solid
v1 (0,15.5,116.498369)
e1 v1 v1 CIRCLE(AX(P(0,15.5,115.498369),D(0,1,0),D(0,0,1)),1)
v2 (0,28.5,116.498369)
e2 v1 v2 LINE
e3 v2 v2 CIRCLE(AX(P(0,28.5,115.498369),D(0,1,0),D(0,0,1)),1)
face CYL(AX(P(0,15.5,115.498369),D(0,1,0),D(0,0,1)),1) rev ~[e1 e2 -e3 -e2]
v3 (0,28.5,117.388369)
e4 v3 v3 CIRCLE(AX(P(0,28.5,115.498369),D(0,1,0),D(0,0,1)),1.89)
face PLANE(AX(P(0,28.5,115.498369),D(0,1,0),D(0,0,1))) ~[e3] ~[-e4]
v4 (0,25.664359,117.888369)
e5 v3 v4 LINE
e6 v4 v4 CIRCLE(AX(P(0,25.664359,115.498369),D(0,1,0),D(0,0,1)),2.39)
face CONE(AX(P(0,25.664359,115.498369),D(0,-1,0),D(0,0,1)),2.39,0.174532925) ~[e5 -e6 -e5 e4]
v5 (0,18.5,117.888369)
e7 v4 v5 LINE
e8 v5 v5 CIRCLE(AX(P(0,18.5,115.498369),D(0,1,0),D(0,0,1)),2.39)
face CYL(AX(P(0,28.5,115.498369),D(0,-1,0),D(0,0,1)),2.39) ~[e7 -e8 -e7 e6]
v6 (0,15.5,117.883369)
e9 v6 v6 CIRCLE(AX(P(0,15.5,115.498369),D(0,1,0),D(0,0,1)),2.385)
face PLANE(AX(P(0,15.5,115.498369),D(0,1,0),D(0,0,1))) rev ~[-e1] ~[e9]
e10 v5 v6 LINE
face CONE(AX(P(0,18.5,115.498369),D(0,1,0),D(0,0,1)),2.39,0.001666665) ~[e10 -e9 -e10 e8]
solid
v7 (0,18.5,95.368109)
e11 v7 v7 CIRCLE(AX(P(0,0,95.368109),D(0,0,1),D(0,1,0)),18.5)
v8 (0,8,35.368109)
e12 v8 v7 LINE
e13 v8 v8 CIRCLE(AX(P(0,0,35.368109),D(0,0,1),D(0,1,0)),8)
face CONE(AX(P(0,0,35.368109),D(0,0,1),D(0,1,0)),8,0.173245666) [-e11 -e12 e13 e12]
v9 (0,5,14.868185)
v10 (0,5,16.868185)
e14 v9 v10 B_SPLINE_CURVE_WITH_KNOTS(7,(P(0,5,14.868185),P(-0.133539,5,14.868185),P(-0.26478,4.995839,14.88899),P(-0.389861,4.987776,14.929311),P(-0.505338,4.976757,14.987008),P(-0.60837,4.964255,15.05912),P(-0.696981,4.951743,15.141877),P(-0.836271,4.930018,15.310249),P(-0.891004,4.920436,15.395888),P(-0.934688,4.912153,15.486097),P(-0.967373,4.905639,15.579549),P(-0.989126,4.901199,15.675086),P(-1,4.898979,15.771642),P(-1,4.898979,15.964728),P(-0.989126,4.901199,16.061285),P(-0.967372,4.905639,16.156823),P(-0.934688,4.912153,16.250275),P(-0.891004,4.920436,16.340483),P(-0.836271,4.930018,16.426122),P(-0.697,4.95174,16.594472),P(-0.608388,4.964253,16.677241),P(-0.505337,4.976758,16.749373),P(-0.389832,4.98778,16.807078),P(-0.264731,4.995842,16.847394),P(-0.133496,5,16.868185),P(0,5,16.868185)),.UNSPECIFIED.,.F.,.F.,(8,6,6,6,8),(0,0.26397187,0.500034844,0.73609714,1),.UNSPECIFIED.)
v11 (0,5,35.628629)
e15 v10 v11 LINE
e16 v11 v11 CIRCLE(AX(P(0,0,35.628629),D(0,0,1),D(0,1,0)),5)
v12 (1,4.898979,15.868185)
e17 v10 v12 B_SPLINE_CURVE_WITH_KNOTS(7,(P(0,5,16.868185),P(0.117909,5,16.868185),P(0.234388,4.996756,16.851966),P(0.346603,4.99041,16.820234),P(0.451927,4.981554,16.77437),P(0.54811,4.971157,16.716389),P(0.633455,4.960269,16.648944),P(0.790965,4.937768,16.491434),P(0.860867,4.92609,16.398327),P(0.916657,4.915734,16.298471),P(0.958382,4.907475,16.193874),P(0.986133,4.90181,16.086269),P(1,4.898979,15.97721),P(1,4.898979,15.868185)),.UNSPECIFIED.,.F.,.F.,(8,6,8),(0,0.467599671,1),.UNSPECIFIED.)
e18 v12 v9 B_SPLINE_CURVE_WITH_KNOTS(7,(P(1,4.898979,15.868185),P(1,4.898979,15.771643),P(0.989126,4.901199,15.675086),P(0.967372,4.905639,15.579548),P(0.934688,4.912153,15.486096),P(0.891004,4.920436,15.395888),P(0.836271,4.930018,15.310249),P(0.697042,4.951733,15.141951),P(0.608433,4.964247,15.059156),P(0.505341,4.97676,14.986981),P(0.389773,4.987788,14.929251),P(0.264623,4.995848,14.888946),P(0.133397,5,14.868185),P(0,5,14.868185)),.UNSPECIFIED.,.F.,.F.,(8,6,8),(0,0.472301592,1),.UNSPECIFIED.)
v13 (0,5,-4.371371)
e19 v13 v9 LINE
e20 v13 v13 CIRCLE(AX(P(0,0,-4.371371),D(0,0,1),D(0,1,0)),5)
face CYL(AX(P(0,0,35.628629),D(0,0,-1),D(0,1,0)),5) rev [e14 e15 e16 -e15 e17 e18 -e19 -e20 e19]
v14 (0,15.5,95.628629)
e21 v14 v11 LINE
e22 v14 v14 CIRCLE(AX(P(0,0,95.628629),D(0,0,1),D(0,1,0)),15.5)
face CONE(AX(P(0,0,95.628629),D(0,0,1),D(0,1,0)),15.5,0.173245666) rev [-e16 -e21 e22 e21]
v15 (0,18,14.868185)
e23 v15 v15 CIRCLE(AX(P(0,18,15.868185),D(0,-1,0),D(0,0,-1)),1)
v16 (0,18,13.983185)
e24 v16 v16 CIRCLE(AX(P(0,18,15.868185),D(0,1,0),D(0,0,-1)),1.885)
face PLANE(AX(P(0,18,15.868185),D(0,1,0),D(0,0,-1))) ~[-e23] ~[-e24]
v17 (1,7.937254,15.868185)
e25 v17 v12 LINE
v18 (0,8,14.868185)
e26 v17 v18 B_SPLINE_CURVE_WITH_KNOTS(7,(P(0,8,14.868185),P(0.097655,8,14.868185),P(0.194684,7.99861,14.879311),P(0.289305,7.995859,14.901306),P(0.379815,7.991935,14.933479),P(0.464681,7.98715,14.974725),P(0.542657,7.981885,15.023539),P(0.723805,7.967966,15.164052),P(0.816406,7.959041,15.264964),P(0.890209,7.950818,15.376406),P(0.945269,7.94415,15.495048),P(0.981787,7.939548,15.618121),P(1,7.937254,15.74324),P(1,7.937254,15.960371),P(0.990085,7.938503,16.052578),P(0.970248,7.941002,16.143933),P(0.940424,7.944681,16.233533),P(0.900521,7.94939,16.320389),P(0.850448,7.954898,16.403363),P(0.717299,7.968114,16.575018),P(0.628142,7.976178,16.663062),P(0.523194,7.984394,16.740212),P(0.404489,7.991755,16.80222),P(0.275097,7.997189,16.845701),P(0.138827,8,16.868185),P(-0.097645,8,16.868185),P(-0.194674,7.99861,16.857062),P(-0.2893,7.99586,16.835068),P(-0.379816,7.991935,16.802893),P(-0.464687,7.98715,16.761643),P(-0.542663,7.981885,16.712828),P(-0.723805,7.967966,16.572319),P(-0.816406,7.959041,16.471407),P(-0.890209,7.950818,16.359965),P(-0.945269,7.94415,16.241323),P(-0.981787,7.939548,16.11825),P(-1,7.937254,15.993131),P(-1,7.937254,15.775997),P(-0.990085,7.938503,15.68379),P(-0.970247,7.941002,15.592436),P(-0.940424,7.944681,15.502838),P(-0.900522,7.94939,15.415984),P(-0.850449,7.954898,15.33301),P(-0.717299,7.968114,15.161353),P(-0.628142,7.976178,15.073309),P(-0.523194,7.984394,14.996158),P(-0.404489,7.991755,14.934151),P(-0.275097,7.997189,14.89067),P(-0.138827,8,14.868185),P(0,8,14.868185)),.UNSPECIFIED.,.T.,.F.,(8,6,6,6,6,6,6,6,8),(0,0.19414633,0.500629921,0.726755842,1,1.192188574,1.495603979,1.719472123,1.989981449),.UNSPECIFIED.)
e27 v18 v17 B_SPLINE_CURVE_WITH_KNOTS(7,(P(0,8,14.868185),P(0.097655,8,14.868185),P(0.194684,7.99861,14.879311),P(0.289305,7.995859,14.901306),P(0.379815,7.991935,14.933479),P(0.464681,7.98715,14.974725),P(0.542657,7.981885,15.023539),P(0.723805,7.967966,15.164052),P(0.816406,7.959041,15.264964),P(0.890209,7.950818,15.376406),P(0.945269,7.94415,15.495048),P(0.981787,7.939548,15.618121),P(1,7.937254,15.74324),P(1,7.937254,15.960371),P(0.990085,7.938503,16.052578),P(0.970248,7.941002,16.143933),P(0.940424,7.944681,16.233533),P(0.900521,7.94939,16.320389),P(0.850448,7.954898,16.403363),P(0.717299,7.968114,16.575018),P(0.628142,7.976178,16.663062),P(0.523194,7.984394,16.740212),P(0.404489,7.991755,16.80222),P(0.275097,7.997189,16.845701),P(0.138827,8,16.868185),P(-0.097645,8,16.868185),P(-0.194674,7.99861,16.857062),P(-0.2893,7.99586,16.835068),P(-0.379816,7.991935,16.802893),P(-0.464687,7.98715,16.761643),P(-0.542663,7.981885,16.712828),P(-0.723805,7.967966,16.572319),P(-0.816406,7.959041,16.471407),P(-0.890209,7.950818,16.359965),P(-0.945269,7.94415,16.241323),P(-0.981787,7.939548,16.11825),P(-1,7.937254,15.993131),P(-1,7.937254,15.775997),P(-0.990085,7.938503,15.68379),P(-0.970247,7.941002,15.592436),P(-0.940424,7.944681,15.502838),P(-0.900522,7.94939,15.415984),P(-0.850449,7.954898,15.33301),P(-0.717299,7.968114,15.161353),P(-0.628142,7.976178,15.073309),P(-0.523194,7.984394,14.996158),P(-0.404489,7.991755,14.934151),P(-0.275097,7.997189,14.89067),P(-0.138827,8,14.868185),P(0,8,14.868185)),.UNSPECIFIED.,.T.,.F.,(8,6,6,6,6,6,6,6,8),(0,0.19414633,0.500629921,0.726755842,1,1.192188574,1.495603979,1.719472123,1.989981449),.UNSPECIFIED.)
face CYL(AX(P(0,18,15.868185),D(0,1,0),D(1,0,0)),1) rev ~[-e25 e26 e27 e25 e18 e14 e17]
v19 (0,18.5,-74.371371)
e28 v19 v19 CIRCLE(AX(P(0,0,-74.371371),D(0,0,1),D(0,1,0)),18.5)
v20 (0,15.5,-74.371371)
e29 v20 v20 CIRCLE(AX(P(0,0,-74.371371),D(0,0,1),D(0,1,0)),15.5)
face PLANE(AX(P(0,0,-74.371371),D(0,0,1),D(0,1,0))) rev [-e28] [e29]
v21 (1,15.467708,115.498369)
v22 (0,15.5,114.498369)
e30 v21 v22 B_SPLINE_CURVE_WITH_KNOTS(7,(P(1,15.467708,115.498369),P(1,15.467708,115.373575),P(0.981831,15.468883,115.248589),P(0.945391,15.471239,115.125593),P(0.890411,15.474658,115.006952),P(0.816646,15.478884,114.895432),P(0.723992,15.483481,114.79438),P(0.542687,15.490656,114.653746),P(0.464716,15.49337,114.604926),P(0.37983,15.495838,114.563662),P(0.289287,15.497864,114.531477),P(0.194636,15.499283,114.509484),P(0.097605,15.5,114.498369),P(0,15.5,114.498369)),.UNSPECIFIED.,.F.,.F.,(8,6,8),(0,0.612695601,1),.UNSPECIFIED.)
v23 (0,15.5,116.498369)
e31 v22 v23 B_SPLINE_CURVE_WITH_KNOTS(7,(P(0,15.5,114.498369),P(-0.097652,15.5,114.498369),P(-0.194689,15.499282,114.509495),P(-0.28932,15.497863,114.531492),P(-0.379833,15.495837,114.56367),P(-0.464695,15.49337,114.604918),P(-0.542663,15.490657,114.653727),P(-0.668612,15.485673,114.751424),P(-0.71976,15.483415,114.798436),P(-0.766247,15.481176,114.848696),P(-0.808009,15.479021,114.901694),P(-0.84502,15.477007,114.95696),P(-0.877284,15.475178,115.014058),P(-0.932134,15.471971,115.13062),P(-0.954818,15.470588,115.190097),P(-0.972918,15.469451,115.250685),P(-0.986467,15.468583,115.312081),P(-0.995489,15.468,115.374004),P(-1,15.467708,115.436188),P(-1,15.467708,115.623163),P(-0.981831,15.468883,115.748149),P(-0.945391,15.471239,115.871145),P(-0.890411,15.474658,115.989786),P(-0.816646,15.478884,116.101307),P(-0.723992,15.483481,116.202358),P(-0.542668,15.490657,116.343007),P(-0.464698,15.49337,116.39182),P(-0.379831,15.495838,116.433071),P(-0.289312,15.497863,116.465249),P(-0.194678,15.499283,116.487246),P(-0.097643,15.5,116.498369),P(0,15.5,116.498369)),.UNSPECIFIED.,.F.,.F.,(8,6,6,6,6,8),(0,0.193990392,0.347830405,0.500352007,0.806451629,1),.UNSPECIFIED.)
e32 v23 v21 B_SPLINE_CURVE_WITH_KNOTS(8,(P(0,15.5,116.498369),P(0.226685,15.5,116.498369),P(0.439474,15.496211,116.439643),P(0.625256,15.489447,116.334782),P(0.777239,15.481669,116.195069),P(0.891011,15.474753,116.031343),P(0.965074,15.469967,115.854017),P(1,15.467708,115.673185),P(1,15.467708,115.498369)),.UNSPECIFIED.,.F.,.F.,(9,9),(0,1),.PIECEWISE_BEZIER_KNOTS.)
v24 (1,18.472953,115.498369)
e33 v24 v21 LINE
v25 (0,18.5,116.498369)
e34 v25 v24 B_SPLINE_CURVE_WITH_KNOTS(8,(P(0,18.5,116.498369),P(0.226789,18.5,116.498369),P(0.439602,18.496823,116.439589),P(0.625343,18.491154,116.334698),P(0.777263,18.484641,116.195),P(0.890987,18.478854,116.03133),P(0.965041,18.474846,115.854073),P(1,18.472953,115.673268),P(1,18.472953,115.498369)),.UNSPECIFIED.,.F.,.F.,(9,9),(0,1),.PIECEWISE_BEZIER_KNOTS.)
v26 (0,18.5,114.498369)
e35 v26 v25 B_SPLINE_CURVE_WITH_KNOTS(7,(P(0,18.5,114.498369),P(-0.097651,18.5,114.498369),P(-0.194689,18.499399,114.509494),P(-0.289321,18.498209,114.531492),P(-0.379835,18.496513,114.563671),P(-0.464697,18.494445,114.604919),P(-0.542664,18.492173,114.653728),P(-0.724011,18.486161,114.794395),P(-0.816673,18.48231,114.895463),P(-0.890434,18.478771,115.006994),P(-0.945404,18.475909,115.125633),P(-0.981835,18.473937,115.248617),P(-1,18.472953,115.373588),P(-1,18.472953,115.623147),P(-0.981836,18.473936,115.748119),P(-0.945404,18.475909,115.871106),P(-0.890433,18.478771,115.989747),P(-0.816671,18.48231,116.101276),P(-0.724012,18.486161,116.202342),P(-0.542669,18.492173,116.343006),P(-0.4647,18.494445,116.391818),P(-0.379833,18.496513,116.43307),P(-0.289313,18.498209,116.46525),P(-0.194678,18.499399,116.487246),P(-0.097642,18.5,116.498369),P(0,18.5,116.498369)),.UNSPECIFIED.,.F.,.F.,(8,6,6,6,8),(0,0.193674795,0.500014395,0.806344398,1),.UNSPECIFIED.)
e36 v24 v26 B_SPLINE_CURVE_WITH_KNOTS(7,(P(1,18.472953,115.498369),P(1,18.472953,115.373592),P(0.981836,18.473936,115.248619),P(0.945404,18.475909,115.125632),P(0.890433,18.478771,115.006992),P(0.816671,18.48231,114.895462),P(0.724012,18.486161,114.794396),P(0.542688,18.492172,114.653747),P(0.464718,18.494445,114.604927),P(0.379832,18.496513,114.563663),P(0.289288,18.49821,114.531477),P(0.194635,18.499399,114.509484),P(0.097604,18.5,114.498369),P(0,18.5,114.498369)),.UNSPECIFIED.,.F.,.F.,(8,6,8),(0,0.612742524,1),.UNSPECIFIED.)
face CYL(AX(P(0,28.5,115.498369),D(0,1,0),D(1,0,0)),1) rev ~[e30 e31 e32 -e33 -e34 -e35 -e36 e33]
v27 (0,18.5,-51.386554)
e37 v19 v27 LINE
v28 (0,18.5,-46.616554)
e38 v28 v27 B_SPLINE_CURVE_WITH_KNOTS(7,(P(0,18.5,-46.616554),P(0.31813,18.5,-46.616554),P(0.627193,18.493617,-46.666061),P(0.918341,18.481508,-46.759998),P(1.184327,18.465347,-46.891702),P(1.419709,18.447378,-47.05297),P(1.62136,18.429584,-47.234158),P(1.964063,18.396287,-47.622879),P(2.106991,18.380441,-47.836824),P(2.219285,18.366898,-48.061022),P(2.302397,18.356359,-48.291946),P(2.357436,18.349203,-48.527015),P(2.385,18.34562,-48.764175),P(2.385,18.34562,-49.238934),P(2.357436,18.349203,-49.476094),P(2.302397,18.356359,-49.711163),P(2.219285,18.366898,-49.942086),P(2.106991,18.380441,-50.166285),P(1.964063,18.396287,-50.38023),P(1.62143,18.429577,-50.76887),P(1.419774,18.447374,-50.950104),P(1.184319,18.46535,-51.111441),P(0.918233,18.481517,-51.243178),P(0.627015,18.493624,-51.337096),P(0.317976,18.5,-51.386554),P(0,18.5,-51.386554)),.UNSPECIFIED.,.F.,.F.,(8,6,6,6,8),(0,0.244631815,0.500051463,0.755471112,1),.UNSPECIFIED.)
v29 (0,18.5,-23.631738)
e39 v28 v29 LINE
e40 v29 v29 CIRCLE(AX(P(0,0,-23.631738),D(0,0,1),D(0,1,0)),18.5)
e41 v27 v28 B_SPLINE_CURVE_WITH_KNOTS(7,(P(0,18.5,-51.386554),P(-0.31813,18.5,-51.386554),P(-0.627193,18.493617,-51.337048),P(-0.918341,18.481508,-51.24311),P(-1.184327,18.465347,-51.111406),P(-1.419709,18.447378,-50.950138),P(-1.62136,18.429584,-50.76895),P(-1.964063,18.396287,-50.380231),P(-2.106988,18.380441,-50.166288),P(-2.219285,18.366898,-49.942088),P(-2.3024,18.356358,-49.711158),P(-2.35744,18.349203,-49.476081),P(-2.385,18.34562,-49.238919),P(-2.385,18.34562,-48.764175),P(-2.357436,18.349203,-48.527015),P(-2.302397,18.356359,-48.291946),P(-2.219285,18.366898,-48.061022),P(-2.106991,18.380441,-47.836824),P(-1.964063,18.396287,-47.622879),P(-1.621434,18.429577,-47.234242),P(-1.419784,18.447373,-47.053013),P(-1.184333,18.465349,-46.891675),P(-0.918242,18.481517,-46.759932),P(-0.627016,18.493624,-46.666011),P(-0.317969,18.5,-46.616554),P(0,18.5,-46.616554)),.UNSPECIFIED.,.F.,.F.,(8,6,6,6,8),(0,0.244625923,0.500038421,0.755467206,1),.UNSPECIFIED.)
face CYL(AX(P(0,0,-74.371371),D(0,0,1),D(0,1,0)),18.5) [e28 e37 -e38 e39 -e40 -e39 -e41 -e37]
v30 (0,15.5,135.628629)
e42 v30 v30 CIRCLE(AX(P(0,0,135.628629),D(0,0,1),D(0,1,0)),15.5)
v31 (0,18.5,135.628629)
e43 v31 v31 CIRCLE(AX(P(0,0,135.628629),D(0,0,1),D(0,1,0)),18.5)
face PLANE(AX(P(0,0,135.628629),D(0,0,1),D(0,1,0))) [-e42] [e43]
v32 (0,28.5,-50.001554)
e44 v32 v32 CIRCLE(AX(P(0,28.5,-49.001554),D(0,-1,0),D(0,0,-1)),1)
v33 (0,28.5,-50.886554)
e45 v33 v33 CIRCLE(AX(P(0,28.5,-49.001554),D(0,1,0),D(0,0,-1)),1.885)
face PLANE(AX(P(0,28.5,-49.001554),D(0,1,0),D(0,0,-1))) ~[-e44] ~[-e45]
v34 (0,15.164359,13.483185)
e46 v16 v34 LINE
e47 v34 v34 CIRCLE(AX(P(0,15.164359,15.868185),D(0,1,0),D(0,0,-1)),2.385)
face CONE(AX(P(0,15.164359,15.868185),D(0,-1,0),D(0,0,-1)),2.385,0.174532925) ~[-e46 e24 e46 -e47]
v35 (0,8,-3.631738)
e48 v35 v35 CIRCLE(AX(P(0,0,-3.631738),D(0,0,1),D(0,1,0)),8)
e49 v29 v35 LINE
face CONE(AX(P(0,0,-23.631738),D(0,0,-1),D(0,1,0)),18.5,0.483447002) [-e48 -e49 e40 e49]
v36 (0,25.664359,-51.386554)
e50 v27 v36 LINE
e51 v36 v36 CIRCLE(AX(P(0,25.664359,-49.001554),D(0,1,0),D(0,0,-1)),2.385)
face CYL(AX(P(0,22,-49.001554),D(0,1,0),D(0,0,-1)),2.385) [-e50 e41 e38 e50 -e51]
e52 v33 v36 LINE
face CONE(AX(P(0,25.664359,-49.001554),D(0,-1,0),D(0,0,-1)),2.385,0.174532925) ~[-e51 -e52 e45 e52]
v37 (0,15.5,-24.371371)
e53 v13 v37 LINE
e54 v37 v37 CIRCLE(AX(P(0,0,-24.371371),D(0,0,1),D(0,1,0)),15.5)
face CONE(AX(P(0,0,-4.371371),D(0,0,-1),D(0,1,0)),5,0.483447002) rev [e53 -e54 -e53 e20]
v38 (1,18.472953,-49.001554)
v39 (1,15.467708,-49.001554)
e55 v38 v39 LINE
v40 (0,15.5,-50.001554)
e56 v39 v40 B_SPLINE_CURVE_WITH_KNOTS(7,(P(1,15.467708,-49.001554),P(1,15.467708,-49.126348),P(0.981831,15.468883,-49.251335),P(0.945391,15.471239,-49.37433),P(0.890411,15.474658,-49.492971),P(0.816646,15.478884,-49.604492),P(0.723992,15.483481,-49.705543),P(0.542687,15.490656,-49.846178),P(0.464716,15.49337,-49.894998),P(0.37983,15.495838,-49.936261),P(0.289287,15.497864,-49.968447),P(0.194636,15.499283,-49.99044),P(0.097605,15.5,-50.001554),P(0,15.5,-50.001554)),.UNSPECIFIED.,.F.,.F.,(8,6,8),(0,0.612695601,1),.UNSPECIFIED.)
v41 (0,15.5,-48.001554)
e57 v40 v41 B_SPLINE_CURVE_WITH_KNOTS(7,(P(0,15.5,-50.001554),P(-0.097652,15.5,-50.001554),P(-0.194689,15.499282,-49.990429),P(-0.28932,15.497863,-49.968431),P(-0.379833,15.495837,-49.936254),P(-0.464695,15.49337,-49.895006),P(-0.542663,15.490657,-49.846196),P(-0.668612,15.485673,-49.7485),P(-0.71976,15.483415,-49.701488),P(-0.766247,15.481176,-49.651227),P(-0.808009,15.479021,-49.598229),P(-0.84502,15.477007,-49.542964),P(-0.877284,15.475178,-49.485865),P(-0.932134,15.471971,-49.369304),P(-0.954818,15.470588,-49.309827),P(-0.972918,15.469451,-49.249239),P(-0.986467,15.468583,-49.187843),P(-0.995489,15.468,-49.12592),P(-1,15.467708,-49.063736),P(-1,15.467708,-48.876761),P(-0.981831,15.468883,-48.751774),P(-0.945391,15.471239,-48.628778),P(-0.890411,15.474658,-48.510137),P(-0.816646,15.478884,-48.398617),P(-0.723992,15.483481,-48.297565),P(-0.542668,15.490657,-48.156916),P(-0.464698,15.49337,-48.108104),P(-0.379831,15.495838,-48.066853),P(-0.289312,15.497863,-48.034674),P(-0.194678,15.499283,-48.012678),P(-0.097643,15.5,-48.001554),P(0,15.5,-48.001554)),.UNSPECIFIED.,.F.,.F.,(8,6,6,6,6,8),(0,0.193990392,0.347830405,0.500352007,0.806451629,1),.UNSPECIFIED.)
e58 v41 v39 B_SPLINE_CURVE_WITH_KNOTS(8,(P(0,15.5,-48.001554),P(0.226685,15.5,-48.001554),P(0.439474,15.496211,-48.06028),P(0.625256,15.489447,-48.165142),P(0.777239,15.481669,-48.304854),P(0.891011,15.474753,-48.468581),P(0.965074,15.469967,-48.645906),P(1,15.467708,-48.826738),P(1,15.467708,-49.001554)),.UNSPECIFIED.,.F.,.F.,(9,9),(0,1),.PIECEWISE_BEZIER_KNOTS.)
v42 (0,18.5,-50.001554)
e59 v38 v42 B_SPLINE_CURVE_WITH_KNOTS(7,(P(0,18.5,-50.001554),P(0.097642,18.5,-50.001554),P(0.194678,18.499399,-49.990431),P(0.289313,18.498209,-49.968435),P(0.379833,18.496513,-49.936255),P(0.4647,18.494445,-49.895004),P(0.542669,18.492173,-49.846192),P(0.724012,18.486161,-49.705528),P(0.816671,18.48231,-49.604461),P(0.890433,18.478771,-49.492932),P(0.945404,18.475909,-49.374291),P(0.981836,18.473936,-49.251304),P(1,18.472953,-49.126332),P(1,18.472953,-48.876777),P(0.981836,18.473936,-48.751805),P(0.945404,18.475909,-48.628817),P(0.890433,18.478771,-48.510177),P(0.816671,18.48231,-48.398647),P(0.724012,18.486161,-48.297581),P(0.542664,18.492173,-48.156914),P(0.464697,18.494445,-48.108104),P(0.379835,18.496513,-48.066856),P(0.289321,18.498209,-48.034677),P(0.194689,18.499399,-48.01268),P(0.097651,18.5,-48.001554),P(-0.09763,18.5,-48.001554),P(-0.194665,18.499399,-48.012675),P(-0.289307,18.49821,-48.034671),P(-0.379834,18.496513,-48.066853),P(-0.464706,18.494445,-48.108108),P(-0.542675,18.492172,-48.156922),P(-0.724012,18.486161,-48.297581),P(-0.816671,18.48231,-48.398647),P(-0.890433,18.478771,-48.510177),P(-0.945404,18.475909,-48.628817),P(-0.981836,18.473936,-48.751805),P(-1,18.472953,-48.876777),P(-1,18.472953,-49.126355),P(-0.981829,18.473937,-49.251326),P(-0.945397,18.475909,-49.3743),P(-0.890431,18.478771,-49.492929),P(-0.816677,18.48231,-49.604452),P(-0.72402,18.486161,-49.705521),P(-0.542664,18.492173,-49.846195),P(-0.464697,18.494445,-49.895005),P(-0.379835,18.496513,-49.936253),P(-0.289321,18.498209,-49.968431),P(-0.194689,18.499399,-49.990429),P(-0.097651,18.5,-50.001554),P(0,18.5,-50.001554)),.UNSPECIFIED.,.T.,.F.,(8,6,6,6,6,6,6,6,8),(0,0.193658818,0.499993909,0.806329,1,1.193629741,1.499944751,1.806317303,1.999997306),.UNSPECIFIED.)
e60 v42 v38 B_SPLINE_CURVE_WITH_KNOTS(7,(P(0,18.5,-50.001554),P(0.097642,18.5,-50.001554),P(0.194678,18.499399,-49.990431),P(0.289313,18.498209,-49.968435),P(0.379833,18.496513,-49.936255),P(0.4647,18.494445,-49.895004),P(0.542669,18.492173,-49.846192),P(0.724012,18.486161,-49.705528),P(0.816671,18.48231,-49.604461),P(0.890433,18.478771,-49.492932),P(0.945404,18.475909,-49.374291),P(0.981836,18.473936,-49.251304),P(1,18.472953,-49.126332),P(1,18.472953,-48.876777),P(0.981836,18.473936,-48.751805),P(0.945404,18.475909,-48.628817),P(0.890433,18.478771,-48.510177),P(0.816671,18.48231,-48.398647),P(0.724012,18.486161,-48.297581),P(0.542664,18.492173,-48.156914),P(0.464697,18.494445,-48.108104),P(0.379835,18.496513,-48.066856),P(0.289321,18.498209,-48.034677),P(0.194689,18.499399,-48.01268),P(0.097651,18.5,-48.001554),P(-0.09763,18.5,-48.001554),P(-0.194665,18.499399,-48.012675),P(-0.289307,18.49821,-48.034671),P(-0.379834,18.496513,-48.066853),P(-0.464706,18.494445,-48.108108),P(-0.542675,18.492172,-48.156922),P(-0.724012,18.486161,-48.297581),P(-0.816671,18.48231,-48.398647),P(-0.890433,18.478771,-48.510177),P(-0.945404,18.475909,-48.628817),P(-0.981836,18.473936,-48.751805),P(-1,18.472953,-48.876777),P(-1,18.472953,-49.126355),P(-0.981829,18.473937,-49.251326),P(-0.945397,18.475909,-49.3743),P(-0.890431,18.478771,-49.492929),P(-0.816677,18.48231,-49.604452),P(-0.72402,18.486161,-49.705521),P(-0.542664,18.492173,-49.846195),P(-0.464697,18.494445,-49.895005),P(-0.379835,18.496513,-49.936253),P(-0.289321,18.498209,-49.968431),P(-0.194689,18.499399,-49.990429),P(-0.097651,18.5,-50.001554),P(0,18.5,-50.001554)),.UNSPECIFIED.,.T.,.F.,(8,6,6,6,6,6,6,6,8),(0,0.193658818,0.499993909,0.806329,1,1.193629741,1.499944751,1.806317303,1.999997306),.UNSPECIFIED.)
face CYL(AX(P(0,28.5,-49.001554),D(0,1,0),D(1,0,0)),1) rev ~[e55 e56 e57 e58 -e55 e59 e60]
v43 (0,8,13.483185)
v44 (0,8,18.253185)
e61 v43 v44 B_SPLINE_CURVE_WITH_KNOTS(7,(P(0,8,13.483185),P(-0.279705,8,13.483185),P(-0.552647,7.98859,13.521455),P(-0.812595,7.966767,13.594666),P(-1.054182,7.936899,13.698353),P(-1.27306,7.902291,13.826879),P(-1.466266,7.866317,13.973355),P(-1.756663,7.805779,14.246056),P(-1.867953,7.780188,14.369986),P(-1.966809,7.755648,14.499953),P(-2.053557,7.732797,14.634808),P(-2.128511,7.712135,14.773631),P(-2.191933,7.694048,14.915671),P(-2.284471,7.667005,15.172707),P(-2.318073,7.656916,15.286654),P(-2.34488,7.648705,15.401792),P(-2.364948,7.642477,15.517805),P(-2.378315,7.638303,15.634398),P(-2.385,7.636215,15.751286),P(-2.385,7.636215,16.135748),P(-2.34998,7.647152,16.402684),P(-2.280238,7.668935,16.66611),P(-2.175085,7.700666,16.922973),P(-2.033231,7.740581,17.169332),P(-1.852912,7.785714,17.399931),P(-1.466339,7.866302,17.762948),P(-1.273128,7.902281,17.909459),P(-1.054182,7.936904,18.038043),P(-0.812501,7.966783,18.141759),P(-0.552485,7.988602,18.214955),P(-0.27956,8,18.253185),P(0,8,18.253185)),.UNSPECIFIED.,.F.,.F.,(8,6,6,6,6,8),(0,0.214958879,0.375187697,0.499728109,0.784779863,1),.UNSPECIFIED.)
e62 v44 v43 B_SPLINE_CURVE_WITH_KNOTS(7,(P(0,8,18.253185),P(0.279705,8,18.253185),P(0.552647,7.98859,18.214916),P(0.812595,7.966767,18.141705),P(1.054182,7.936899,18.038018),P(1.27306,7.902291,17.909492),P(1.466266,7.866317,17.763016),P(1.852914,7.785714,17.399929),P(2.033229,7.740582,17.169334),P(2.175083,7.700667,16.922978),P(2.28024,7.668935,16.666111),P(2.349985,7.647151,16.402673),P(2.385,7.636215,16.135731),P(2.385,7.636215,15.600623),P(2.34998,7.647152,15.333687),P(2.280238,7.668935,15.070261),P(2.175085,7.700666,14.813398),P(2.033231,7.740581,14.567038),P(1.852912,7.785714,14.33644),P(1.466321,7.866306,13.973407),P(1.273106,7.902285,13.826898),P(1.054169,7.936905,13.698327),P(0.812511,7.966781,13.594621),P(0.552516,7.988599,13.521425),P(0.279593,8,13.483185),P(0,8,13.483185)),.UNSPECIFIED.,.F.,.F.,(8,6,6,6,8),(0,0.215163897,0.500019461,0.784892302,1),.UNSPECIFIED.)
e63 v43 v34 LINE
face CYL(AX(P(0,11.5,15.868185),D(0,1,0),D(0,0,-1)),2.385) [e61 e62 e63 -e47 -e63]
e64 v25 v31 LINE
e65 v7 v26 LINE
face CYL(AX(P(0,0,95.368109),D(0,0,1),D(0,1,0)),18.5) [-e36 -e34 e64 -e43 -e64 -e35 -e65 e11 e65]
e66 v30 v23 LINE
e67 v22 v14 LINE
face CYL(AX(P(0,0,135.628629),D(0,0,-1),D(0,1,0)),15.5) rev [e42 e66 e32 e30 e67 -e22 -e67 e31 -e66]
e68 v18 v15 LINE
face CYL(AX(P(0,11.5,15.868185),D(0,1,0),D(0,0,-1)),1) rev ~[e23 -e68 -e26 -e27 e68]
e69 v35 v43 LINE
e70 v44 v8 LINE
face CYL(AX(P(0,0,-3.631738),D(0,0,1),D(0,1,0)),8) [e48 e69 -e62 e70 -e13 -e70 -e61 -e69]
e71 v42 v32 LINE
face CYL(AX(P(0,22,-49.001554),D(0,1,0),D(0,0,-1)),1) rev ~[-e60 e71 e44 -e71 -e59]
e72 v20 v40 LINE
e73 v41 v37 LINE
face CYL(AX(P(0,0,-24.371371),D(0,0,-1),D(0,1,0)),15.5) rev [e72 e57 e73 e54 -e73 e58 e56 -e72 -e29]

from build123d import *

# Parameters (mm, degrees)
SKETCH2_5_W        = 1.385
SKETCH2_5_H        = 13
SKETCH2_6_W        = 1.385
SKETCH2_6_H        = 13
CHAMFER1_SIZE      = 0.5
CHAMFER1_SIZE2     = 2.83564091
CHAMFER2_SIZE      = 0.5
CHAMFER2_SIZE2     = 2.83564091
CHAMFER3_SIZE      = 0.5
CHAMFER3_SIZE2     = 2.83564091
CUT_EXTRUDE2_START = -15
SKETCH4_R          = 1
CUT_EXTRUDE2_DEPTH = 15
CUT_EXTRUDE3_START = -15
SKETCH5_R          = 1
CUT_EXTRUDE3_DEPTH = 15
SKETCH6_R          = 1
CUT_EXTRUDE4_DEPTH = 30


with BuildPart() as part:
    # Sketch1 → Revolve1 (revolve)
    with BuildSketch(Plane(origin=(0, 0, 0), x_dir=(0, 0, -1), z_dir=(1, 0, 0))):
        Polygon((-135.628629381, 15.5), (-95.628629381, 15.5), (-35.628629381, 5), (4.371370619, 5), (24.371370619, 15.5), (74.371370619, 15.5), (74.371370619, 18.5), (23.631738049, 18.5), (3.631738049, 8), (-35.368108949, 8), (-95.368108949, 18.5), (-135.628629381, 18.5), align=None)
    revolve(axis=Axis((0, 0, -77.872340426), (0, 0, 1)))

    # Sketch2<5> → Revolve3 (revolve)
    with BuildSketch(Plane(origin=(0, 0, 0), x_dir=(0, 0, -1), z_dir=(1, 0, 0))):
        with Locations((-14.17568545, 11.5)):
            Rectangle(SKETCH2_5_W, SKETCH2_5_H)
    revolve(axis=Axis((0, 8, 15.86818545), (0, 1, 0)))

    # Sketch2<6> → Revolve4 (revolve)
    with BuildSketch(Plane(origin=(0, 0, 0), x_dir=(0, 0, -1), z_dir=(1, 0, 0))):
        with Locations((50.694054334, 22)):
            Rectangle(SKETCH2_6_W, SKETCH2_6_H)
    revolve(axis=Axis((0, 18.5, -49.001554334), (0, 1, 0)))

    # Chamfer2
    chamfer2_edges = [part.edges().sort_by_distance(p)[0] for p in [
        (0, 18, 18.25318545),
    ]]
    chamfer2_side = [part.faces().sort_by_distance(p)[0] for p in [
        (0, 18, 18.185727463),
    ]]
    chamfer(chamfer2_edges, length=CHAMFER2_SIZE, length2=CHAMFER2_SIZE2, reference=chamfer2_side[0])

    # Chamfer3
    chamfer3_edges = [part.edges().sort_by_distance(p)[0] for p in [
        (0, 28.5, -46.616554334),
    ]]
    chamfer3_side = [part.faces().sort_by_distance(p)[0] for p in [
        (0, 28.5, -46.684012321),
    ]]
    chamfer(chamfer3_edges, length=CHAMFER3_SIZE, length2=CHAMFER3_SIZE2, reference=chamfer3_side[0])

    # Sketch4 → Cut-Extrude2 (cut)
    with BuildSketch(Plane(origin=(0, 18, 0), x_dir=(1, 0, 0), z_dir=(0, 1, 0)).offset(CUT_EXTRUDE2_START)):
        with Locations((0, -15.86818545)):
            Circle(SKETCH4_R)
    extrude(amount=CUT_EXTRUDE2_DEPTH, mode=Mode.SUBTRACT)

    # Sketch5 → Cut-Extrude3 (cut)
    with BuildSketch(Plane(origin=(0, 28.5, 0), x_dir=(1, 0, 0), z_dir=(0, 1, 0)).offset(CUT_EXTRUDE3_START)):
        with Locations((0, 49.001554334)):
            Circle(SKETCH5_R)
    extrude(amount=CUT_EXTRUDE3_DEPTH, mode=Mode.SUBTRACT)

    # Sketch6 → Cut-Extrude4 (cut)
    with BuildSketch(Plane(origin=(0, 28.5, 0), x_dir=(1, 0, 0), z_dir=(0, 1, 0))):
        with Locations((0, -115.498369165)):
            Circle(SKETCH6_R)
    extrude(amount=-CUT_EXTRUDE4_DEPTH, mode=Mode.SUBTRACT)


with BuildPart() as body_2:
    # Sketch2 → Revolve2 (revolve)
    with BuildSketch(Plane(origin=(0, 0, 0), x_dir=(0, 0, -1), z_dir=(1, 0, 0))):
        Polygon((-113.108369165, 28.5), (-114.498369165, 28.5), (-114.498369165, 18.5), (-114.498369165, 15.5), (-113.113369165, 15.5), (-113.108369165, 18.5), align=None)
    revolve(axis=Axis((0, 18.5, 115.498369165), (0, 1, 0)))

    # Chamfer1
    chamfer1_edges = [body_2.edges().sort_by_distance(p)[0] for p in [
        (0, 28.5, 117.888369165),
    ]]
    chamfer1_side = [body_2.faces().sort_by_distance(p)[0] for p in [
        (0, 28.5, 117.820769756),
    ]]
    chamfer(chamfer1_edges, length=CHAMFER1_SIZE, length2=CHAMFER1_SIZE2, reference=chamfer1_side[0])


solid = Compound([part.part, body_2.part])
